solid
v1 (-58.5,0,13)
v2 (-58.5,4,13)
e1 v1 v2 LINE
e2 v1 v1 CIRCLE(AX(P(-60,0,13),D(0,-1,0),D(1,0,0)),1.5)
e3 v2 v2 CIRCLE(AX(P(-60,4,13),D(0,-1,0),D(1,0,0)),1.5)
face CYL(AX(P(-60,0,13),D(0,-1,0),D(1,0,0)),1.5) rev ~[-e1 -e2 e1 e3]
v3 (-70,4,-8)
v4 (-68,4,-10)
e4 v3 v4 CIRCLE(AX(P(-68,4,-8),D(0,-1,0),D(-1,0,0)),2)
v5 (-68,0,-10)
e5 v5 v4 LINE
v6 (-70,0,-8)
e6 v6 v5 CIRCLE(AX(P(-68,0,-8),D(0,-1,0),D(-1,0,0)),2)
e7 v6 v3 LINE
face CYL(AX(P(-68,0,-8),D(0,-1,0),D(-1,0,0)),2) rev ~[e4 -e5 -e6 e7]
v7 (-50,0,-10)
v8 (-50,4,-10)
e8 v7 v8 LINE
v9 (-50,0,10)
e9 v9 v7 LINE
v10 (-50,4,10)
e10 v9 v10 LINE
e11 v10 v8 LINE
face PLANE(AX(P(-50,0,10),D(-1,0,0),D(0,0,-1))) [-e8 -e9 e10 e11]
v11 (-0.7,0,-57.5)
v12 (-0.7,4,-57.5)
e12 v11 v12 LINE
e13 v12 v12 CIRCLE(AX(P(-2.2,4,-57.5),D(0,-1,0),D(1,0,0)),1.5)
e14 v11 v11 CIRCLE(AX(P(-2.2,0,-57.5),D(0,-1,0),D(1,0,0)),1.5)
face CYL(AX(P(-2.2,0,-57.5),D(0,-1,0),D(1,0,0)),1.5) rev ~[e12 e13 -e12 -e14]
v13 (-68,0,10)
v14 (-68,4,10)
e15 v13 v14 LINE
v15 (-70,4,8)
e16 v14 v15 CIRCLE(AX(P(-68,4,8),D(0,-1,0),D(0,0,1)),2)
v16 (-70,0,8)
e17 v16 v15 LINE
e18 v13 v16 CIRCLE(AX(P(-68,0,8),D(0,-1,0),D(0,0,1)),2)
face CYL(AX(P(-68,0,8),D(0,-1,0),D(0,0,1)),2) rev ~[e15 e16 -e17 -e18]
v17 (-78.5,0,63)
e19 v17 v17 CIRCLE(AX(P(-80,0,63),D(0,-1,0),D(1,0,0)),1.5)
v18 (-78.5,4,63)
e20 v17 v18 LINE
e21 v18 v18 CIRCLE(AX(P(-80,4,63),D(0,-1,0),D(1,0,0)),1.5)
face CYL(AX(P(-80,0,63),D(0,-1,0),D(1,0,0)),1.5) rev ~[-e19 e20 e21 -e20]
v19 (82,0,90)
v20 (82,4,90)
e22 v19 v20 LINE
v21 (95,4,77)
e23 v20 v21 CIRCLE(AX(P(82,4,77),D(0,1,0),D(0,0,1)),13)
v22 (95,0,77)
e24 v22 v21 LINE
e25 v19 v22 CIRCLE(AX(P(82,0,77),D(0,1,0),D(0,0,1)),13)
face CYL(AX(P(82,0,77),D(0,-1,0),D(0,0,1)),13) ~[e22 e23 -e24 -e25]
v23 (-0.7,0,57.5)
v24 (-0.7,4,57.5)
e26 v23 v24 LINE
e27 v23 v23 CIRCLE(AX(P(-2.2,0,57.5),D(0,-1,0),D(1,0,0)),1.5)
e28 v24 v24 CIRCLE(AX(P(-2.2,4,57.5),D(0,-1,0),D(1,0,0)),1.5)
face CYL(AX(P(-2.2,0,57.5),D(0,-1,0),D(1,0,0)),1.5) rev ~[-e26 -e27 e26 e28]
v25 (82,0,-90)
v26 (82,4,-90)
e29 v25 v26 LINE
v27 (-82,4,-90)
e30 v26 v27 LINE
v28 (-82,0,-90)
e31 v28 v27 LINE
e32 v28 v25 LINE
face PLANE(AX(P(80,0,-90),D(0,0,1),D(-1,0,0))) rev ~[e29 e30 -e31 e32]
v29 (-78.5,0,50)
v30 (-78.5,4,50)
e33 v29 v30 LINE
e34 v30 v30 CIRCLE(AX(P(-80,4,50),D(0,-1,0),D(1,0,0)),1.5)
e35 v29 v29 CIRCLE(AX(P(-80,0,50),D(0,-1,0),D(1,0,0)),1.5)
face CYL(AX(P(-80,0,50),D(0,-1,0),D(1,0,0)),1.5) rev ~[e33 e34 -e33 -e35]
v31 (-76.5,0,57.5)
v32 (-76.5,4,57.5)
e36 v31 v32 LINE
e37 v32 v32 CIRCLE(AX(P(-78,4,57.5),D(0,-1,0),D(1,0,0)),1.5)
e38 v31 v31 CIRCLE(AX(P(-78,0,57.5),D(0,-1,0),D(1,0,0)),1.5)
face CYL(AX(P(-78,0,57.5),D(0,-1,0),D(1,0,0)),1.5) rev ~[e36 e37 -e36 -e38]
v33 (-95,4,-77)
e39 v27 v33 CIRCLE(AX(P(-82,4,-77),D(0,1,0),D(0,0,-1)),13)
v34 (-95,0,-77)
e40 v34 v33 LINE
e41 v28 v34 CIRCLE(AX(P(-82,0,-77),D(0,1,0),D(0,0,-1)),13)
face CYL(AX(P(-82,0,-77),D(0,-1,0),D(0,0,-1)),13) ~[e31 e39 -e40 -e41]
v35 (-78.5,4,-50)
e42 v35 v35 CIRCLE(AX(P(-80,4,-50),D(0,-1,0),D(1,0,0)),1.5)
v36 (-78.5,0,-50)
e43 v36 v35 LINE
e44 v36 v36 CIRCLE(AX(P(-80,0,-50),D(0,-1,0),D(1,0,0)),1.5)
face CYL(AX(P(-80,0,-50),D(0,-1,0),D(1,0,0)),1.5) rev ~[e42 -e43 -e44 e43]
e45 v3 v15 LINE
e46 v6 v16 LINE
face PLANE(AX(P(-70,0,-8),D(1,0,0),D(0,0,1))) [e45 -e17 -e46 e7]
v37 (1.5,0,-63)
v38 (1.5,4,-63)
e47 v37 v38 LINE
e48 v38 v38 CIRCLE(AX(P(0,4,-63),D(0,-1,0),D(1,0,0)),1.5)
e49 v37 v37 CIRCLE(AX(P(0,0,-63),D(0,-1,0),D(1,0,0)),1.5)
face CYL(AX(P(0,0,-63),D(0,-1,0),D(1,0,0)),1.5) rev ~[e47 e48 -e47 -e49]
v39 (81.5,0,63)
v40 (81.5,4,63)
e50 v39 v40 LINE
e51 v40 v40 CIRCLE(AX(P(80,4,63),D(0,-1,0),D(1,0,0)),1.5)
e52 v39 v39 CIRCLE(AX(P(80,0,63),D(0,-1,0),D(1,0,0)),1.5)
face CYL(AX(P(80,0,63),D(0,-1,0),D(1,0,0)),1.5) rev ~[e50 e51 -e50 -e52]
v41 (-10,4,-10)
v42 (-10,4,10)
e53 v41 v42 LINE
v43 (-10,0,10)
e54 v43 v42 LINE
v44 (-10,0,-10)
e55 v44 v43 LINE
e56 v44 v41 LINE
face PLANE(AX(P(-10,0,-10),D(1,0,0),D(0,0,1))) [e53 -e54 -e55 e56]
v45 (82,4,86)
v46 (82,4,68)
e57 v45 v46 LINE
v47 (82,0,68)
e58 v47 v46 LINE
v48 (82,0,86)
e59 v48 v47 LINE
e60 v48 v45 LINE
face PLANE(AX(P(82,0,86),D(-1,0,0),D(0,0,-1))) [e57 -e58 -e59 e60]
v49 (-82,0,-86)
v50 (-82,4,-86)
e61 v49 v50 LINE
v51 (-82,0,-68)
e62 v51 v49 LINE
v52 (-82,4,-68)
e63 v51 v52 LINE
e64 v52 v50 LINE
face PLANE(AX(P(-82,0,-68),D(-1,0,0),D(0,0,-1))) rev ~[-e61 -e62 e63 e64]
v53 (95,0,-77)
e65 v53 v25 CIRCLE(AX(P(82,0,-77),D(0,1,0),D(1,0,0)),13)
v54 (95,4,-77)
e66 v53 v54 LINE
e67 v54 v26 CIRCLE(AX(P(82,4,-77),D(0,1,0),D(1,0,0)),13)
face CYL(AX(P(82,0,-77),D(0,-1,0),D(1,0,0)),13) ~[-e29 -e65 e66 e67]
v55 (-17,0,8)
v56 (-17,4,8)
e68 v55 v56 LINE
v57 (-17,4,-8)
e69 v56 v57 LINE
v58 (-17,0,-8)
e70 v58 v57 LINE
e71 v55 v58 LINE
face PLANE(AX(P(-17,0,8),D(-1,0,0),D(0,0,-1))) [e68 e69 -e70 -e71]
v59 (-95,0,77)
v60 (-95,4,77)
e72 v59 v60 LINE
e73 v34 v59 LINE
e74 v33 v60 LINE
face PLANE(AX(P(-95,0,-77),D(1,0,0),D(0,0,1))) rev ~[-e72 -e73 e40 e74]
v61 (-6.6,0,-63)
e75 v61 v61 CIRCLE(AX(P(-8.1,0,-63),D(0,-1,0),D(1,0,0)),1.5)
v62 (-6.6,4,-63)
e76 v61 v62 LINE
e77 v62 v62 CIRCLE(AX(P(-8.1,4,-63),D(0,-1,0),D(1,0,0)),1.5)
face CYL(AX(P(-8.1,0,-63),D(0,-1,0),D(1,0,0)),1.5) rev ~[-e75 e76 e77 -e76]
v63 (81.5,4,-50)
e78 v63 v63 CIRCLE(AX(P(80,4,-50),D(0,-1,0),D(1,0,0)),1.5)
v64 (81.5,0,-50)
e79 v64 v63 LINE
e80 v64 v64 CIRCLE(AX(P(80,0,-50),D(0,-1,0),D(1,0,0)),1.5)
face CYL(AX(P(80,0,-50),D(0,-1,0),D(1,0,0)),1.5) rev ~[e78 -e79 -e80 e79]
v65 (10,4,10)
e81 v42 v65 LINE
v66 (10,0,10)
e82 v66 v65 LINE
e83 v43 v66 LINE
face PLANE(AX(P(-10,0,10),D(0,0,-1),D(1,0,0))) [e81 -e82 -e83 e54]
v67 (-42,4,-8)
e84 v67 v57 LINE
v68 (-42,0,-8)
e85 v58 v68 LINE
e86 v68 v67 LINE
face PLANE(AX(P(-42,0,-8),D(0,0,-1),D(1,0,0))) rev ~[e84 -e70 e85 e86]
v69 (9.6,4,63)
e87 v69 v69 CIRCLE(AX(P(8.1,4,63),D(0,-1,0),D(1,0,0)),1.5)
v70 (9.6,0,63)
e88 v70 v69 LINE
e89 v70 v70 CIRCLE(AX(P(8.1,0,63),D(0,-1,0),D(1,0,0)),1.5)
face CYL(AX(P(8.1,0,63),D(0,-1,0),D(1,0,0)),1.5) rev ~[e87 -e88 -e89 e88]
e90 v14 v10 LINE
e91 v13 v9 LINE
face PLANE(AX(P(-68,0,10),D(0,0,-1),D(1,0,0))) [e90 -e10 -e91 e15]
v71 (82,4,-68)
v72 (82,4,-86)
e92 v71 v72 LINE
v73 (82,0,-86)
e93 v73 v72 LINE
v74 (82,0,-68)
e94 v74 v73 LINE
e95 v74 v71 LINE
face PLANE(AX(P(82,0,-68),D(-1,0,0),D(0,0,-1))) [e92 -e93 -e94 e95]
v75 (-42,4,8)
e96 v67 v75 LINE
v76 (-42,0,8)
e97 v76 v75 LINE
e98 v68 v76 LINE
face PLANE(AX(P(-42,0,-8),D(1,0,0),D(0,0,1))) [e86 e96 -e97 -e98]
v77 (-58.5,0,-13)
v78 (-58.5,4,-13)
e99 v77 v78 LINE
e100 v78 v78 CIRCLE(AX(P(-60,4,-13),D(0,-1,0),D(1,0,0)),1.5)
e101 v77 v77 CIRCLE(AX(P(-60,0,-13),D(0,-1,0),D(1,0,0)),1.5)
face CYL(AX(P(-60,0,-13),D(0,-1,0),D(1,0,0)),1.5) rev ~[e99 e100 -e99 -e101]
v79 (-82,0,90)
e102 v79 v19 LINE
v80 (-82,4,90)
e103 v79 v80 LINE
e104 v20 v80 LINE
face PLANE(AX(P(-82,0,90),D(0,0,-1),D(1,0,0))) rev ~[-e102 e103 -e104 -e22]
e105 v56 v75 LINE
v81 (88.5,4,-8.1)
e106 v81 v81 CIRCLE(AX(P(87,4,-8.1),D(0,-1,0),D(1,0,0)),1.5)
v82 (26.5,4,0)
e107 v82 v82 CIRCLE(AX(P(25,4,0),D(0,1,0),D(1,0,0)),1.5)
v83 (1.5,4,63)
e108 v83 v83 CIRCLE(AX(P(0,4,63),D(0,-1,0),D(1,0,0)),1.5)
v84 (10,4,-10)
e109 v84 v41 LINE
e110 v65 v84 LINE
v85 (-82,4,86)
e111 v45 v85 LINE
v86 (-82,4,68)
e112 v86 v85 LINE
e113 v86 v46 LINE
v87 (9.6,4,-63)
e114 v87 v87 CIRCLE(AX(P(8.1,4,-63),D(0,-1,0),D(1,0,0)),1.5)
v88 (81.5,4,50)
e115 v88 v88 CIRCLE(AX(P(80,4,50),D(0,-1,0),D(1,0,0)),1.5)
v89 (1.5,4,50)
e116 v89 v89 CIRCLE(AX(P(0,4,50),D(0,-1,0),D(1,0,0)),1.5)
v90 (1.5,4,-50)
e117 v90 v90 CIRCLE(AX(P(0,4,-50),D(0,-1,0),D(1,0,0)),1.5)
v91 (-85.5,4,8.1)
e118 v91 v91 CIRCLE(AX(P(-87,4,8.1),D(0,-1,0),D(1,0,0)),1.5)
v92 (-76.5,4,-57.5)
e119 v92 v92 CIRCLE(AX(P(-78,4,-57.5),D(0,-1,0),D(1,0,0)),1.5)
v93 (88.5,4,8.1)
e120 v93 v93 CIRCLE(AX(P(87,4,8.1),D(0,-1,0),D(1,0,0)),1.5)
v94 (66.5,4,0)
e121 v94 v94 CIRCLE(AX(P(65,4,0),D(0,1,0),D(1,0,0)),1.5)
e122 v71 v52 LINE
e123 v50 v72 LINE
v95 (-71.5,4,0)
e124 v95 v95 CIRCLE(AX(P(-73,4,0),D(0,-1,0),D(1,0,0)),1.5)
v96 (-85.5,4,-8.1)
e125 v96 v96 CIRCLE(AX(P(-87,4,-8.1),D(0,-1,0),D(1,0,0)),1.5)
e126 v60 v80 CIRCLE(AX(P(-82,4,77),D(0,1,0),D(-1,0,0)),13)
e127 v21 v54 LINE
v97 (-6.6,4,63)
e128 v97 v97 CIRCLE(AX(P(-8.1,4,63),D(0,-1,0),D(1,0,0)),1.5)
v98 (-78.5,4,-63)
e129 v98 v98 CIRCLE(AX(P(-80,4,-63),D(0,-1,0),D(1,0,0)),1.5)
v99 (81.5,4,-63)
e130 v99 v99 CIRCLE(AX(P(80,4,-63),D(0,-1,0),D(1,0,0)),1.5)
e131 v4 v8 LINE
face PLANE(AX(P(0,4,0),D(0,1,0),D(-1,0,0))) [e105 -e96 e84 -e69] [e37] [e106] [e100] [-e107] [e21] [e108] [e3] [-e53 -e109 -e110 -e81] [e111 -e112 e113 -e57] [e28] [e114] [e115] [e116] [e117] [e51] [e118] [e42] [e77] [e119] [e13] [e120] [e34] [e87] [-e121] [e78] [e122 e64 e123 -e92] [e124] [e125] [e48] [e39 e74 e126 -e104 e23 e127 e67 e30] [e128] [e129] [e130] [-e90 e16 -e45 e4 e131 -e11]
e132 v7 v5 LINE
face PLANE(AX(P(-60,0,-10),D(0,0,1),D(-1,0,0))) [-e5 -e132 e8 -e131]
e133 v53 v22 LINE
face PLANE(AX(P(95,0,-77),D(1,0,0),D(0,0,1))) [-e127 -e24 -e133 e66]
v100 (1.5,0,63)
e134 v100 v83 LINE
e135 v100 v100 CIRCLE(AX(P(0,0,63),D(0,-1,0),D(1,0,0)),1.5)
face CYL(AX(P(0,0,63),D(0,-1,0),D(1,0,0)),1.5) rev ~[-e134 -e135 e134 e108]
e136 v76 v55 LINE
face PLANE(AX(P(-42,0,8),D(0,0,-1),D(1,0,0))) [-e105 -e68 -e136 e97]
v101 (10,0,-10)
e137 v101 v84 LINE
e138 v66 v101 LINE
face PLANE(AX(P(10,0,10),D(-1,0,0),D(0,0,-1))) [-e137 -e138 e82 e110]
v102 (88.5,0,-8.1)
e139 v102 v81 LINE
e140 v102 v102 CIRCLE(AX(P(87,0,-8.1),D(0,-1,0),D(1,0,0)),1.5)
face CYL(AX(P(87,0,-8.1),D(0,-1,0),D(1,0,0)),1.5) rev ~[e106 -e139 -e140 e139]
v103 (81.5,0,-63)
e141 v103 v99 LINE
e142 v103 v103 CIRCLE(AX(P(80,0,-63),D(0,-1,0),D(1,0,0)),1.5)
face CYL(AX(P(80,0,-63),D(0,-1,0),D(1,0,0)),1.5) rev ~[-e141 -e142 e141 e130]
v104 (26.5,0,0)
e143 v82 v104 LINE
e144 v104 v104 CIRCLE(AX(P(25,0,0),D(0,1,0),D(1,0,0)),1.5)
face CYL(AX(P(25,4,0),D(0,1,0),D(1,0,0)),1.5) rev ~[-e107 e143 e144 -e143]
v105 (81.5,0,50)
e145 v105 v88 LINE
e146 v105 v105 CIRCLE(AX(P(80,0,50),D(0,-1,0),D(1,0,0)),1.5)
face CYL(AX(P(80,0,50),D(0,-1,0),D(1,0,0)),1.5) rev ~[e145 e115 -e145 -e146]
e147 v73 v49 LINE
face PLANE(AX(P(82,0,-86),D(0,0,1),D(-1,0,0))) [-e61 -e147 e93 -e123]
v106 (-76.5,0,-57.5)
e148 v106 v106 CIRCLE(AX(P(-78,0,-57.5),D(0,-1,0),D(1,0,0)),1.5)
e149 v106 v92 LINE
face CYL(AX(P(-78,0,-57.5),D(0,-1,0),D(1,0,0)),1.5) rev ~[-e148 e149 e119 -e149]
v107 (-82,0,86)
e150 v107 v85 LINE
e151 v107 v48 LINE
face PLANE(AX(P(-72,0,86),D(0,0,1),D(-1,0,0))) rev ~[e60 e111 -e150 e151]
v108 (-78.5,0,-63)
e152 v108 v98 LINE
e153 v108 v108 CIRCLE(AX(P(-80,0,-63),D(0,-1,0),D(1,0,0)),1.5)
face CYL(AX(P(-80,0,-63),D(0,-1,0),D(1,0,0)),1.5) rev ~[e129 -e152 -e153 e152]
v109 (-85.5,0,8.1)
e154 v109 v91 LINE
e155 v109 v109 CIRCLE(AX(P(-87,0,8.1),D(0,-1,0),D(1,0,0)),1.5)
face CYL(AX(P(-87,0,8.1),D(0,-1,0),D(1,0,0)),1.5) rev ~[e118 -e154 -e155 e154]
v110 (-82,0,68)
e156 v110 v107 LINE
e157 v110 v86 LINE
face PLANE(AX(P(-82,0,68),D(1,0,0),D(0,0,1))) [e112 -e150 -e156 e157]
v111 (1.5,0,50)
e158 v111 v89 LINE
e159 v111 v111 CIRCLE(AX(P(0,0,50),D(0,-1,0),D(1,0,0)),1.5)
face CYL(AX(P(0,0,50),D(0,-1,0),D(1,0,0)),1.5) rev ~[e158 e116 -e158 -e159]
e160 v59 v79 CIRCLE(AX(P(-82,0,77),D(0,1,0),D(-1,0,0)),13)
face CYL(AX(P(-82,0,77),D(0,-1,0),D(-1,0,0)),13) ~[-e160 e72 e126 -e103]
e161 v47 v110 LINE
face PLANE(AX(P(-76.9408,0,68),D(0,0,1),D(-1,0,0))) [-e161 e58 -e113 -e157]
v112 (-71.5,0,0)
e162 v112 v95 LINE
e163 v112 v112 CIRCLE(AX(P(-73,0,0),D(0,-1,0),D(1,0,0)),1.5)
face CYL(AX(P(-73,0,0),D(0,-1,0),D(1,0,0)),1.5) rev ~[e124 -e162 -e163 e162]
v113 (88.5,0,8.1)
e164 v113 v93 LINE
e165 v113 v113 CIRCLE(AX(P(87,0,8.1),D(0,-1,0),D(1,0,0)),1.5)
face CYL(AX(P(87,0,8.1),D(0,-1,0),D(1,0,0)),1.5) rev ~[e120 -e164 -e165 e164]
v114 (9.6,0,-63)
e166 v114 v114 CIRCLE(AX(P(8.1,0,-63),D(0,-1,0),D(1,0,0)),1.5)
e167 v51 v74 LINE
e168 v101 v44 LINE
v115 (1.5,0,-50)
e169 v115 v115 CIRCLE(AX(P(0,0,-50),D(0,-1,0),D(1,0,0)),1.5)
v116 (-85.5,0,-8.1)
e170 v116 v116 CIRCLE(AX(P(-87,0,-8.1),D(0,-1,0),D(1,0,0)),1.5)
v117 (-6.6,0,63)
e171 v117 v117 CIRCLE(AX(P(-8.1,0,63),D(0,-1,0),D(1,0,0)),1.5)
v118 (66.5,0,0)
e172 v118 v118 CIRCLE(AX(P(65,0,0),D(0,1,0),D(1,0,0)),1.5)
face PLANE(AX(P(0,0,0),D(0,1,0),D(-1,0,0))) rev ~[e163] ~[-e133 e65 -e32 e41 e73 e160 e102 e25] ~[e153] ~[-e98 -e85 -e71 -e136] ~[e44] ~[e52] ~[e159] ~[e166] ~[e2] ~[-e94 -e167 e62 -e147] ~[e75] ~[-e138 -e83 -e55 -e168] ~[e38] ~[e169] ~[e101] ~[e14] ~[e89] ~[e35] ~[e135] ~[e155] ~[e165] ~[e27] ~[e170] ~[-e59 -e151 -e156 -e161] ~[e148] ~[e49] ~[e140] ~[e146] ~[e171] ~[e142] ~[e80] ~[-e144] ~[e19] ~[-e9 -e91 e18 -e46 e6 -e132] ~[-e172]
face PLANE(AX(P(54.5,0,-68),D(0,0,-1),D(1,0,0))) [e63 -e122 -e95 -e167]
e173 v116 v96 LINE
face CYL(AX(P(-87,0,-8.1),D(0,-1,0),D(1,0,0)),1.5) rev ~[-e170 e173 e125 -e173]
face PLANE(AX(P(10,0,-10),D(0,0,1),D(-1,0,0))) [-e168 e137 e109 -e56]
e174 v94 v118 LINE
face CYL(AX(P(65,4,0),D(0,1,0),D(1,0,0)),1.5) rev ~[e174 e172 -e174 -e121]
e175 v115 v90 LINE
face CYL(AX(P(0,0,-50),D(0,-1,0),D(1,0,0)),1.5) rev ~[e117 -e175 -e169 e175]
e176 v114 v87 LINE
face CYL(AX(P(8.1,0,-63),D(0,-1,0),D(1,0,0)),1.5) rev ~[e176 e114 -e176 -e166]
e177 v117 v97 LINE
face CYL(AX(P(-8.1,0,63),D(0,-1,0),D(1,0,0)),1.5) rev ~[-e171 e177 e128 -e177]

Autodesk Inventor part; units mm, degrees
ref_plane "YZ Plane" through (0, 0, 0) normal (1, 0, 0) x (0, 1, 0)
ref_plane "XZ Plane" through (0, 0, 0) normal (0, 1, 0) x (-1, 0, 0)
ref_plane "XY Plane" through (0, 0, 0) normal (0, 0, 1) x (1, 0, 0)
sketch "Эскиз1" plane through (0, 0, 0) normal (0, 1, 0) x (-1, 0, 0)
  line L0 (150, 150) -> (-150, 150)
  line L1 (-150, 150) -> (-150, -150)
  line L2 (-150, -150) -> (150, -150)
  line L3 (150, -150) -> (150, 150)
  circle A0 centre (0, 0) radius 150
  line L4 (-106, -106) -> (105.4385, -106)
  line L5 (105.4385, -106) -> (105.4385, 106.6899)
  line L6 (105.4385, 106.6899) -> (-106, 106.6899)
  line L7 (-106, 106.6899) -> (-106, -106)
  line L8 (82, 90) -> (-80, 90)
  line L9 (-95, 75) -> (-95, -75)
  line L10 (-80, -90) -> (82, -90)
  line L11 (95, -77) -> (95, 77)
  arc A1 (95, 77) -> (82, 90) centre (82, 77) ccw
  arc A2 (82, -90) -> (95, -77) centre (82, -77) ccw
  line L12 (72, 84.5) -> (12, 84.5)
  line L13 (12, 69.5) -> (72, 69.5)
  line L14 (-80, 90) -> (-82, 90)
  line L15 (-95, 77) -> (-95, 75)
  arc A3 (-82, 90) -> (-95, 77) centre (-82, 77) ccw
  line L16 (-80, -90) -> (-82, -90)
  line L17 (-95, -77) -> (-95, -75)
  arc A4 (-95, -77) -> (-82, -90) centre (-82, -77) ccw
  line L18 (76.9408, 68) -> (82, 68)
  line L19 (82, 68) -> (-82, 68)
  line L20 (-82, 86) -> (82, 86)
  line L21 (82, -68) -> (-82, -68)
  line L22 (-82, -68) -> (-82, -86)
  line L23 (-82, -86) -> (82, -86)
  line L24 (-82, 68) -> (-72, 68)
  line L25 (-72, 86) -> (-82, 86)
  line L26 (-82, 86) -> (-82, 68)
  line L27 (-82, -86) -> (-72, -86)
  line L28 (-72, -68) -> (-82, -68)
  line L29 (-82, -68) -> (-82, -86)
  line L30 (82, -86) -> (72, -86)
  line L31 (72, -68) -> (82, -68)
  line L32 (82, -68) -> (82, -86)
  line L33 (72, 68) -> (82, 68)
  line L34 (82, 68) -> (82, 86)
  line L35 (82, 86) -> (72, 86)
  line L36 (42, 68) -> (54.5, 68)
  line L37 (42, 8) -> (17, 8)
  line L38 (29.5, 8) -> (29.5, 68)
  line L39 (29.5, 68) -> (54.5, 68)
  line L40 (54.5, 68) -> (54.5, 8)
  line L41 (42, -8) -> (17, -8)
  line L42 (29.5, -8) -> (29.5, -68)
  line L43 (29.5, -68) -> (54.5, -68)
  line L44 (54.5, -68) -> (54.5, -8)
  line L45 (-42, 68) -> (-29.5, 68)
  line L46 (-54.5, 8) -> (-54.5, 68)
  line L47 (-54.5, 68) -> (-29.5, 68)
  line L48 (-29.5, 68) -> (-29.5, 8)
  line L49 (-54.5, -8) -> (-54.5, -68)
  line L50 (-54.5, -68) -> (-29.5, -68)
  line L51 (-29.5, -68) -> (-29.5, -8)
  line L52 (75.5, -84.5) -> (8.5, -84.5)
  line L53 (8.5, -84.5) -> (8.5, -69.5)
  line L54 (8.5, -69.5) -> (75.5, -69.5)
  line L55 (75.5, -69.5) -> (75.5, -84.5)
  line L56 (0, -86) -> (0, -44.6693) construction
  line L57 (-75.5, -84.5) -> (-8.5, -84.5)
  line L58 (-8.5, -84.5) -> (-8.5, -69.5)
  line L59 (-8.5, -69.5) -> (-75.5, -69.5)
  line L60 (-75.5, -69.5) -> (-75.5, -84.5)
  line L61 (75.5, 84.5) -> (8.5, 84.5)
  line L62 (8.5, 84.5) -> (8.5, 69.5)
  line L63 (8.5, 69.5) -> (75.5, 69.5)
  line L64 (75.5, 69.5) -> (75.5, 84.5)
  line L65 (-8.5, 84.5) -> (-8.5, 69.5)
  line L66 (-8.5, 69.5) -> (-75.5, 69.5)
  line L67 (-75.5, 69.5) -> (-75.5, 84.5)
  line L68 (-75.5, 84.5) -> (-8.5, 84.5)
  line L69 (54.5, 8) -> (29.5, 8)
  line L70 (17, 8) -> (17, -8)
  line L71 (29.5, -8) -> (54.5, -8)
  line L72 (42, -8) -> (42, 8)
  line L73 (-54.5, 8) -> (-54.5, -8)
  line L74 (-29.5, -8) -> (-29.5, 8)
  line L75 (20, -40) -> (-20, -40)
  line L76 (-20, -40) -> (-20, 40)
  line L77 (-20, 40) -> (20, 40)
  line L78 (20, 40) -> (20, -40)
  line L79 (20, 25) -> (20, 40)
  line L80 (20, 30) -> (20, 40)
  line L81 (-10, -10) -> (10, -10)
  line L82 (10, -10) -> (10, 10)
  line L83 (10, 10) -> (-10, 10)
  line L84 (-10, 10) -> (-10, -10)
  point P0 (-95, -90)
  point P1 (-95, 90)
  point P2 (95, -90)
  point P3 (-12, -77)
  point P4 (12, -77)
  point P5 (12, 77)
  point P6 (72, 77)
  point P7 (42, 8)
  point P8 (42, -8)
  point P9 (-42, -69.5)
  point P10 (42, -8)
  point P11 (-9, 0)
  point P12 (42, 0)
  point P13 (29.5, 0)
  point P14 (-42, -69.5)
  point P15 (42, -69.5)
  dimension "d2" = 300
  dimension "d3" = 300
  dimension "d8" = 190
  dimension "d9" = 180
  dimension "d10" = 13
  dimension "d11" = 13
  dimension "d31" = 13
  dimension "d32" = 13
  dimension "d41" = 15
  dimension "d42" = 24
  dimension "d47" = 25
  dimension "d51" = 25
  dimension "d52" = 16
  dimension "d112" = 67
  dimension "d123" = 40
  dimension "d124" = 80
  dimension "d147" = 20
  dimension "d148" = 20
  dimension "d156" = 84
extrude "Выдавливание1" add sketch "Эскиз1" along normal blind 4 contours A1 L11 A2 L10 L16 A4 L17 L9 L15 A3 L14 L8 | L40 L69 L37 L38 L19 | L38 L37 L78 L77 L76 L75 L41 L42 L21 L51 L74 L48 L19 | L72 L41 L78 L37 | L48 L74 L51 L21 L49 L73 L46 L19 | L71 L44 L21 L42 L41 | L78 L41 L70 L37 | L37 L70 L41 L78 L75 L76 L77 | L84 L83 L82 L81
sketch "Эскиз2" plane through (0, 0, 0) normal (0, -1, 0) x (1, 0, 0)
  line L0 (-82, -68) -> (-82, -86) projected
  line L1 (-95, -77) -> (-95, 77) projected
  line L2 (-95, -68) -> (-95, -56.3368)
  line L3 (-95, -45) -> (-95, -68) construction
  line L4 (-95, -68) -> (-80, -68) construction
  line L5 (-95, -63) -> (-95, -68)
  line L6 (-95, -50) -> (-95, -45)
  circle A0 centre (-80, -63) radius 1.5
  circle A1 centre (-80, -50) radius 1.5
  line L7 (95, 77) -> (95, -77) projected
  line L8 (95, -68) -> (95, -45)
  line L9 (-95, -45) -> (-95, -68)
  line L10 (82, -90) -> (-82, -90) projected
  circle A2 centre (80, -63) radius 1.5
  circle A3 centre (80, -50) radius 1.5
  line L11 (-95, -68) -> (-95, -63)
  line L12 (95, -63) -> (95, -68)
  line L13 (95, -45) -> (95, -50)
  line L14 (-95, -50) -> (-95, -45)
  circle A4 centre (0, -50) radius 1.5
  circle A5 centre (0, -63) radius 1.5
  line L15 (-95, 0) -> (95, 0)
  circle A6 centre (-80, 63) radius 1.5
  circle A7 centre (-80, 50) radius 1.5
  circle A8 centre (80, 63) radius 1.5
  circle A9 centre (80, 50) radius 1.5
  circle A10 centre (0, 50) radius 1.5
  circle A11 centre (0, 63) radius 1.5
  line L16 (-95, -68) -> (95, -68)
  line L17 (95, -68) -> (95, -45)
  line L18 (95, -45) -> (-95, -45)
  line L19 (-95, -45) -> (-95, -68)
  line L20 (-82, 68) -> (-95, 68)
  line L21 (-95, 68) -> (95, 68)
  line L22 (95, 68) -> (95, 45)
  line L23 (95, 45) -> (-95, 45)
  line L24 (-95, 45) -> (-95, 68)
  point P0 (0, 0)
  dimension "d64" = 23
extrude "Выдавливание2" cut sketch "Эскиз2" against normal blind 4 contours A0 | A1 | A2 | A3 | A4 | A5 | A6 | A7 | A8 | A9 | A10 | A11
sketch "Эскиз3" plane through (0, 0, 0) normal (0, -1, 0) x (1, 0, 0)
  line L0 (-95, -77) -> (-95, 77) projected
  line L1 (-95, 10) -> (-95, 0)
  circle A0 centre (-73, 0) radius 1.5
  circle A1 centre (-60, -13) radius 1.5
  circle A2 centre (-60, 13) radius 1.5
  line L2 (-70, -10) -> (-80, -10)
  line L3 (-60, -10) -> (-80, -10)
  line L4 (-50, -10) -> (-68, -10)
  line L5 (-70, -8) -> (-70, 8)
  line L6 (-68, 10) -> (-50, 10)
  line L7 (-50, 10) -> (-50, -10)
  arc A3 (-70, -8) -> (-68, -10) centre (-68, -8) ccw
  arc A4 (-68, 10) -> (-70, 8) centre (-68, 8) ccw
  line L8 (0, 0) -> (-42, 0)
  line L9 (-42, 0) -> (-42, 8)
  line L10 (-42, 8) -> (0, 8)
  line L11 (0, 8) -> (0, 0)
  point P0 (-70, -13)
  point P1 (-78, -10)
  point P2 (-70, 0)
  point P3 (-60, 0)
  dimension "d79" = 3
  dimension "d87" = 2
  dimension "d149" = 42
extrude "Выдавливание3" cut sketch "Эскиз3" against normal blind 4 contours A0 | A1 | A2
extrude "Выдавливание4" cut sketch "Эскиз3" against normal blind 4 contours L3 A3 L5 A4 L6 L7 L4
sketch "Эскиз4" plane through (0, 0, 0) normal (0, -1, 0) x (1, 0, 0)
  circle A0 centre (-80, 63) radius 1.5 projected
  circle A1 centre (-78, 57.5) radius 1.5
  circle A2 centre (0, 63) radius 1.5 projected
  circle A3 centre (-2.2, 57.5) radius 1.5
  line L0 (-47.745, 0) -> (17.0058, 0) construction
  circle A4 centre (-78, -57.5) radius 1.5
  circle A5 centre (-2.2, -57.5) radius 1.5
  point P0 (0, 0)
  dimension "d92" = 3
  dimension "d95" = 3
extrude "Выдавливание5" cut sketch "Эскиз4" against normal blind 4 contours A1 | A3 | A4 | A5
sketch "Эскиз5" plane through (0, 0, 0) normal (0, -1, 0) x (1, 0, 0)
  line L0 (82, -68) -> (-82, -68) projected
  line L1 (-82, -86) -> (82, -86) projected
  line L2 (-90.0897, 0) -> (-46.8311, 0) construction
  line L3 (0, -13.4429) -> (0, 16.6684) construction
  circle A0 centre (-87, -8.1) radius 1.5
  line L4 (-82, 68) -> (82, 68) construction
  line L5 (0, 68) -> (-4.5, 68) construction
  line L6 (-4.5, 63) -> (0, 63) construction
  line L7 (0, 63) -> (0, 68) construction
  line L8 (-17.2785, 0) -> (16.6341, 0) construction
  circle A1 centre (-8.1, 63) radius 1.5
  circle A2 centre (-87, 8.1) radius 1.5
  circle A3 centre (87, -8.1) radius 1.5
  circle A4 centre (87, 8.1) radius 1.5
  circle A5 centre (8.1, 63) radius 1.5
  circle A6 centre (-8.1, -63) radius 1.5
  circle A7 centre (8.1, -63) radius 1.5
  point P0 (0, 0)
  point P1 (-87, 0)
  dimension "d115" = 3
extrude "Выдавливание6" cut sketch "Эскиз5" against normal blind 4 contours A0
extrude "Выдавливание7" cut sketch "Эскиз5" against normal blind 4 contours A1
extrude "Выдавливание8" cut sketch "Эскиз1" along normal blind 4 contours L72 L41 L78 L37 | L78 L41 L70 L37
extrude "Выдавливание9" cut sketch "Эскиз1" along normal blind 4 contours L84 L83 L82 L81
sketch "Эскиз6" plane through (0, 4, 0) normal (0, 1, 0) x (1, 0, 0)
  line L0 (15, -37.5) -> (75, -37.5)
  line L1 (75, -37.5) -> (75, 37.5)
  line L2 (75, 37.5) -> (15, 37.5)
  line L3 (15, 37.5) -> (15, -37.5)
  line L4 (15, -37.5) -> (25, -37.5)
  line L5 (45, -37.5) -> (45, 37.5) construction
  circle A0 centre (25, 0) radius 1.5
  circle A1 centre (65, 0) radius 1.5
  point P0 (0, 0)
  dimension "d139" = 60
  dimension "d140" = 75
  dimension "d141" = 10
  dimension "d142" = 3
extrude "Выдавливание10" cut sketch "Эскиз6" against normal blind 4 contours A0 | A1
extrude "Выдавливание11" cut sketch "Эскиз5" against normal blind 10 contours A2
extrude "Выдавливание12" cut sketch "Эскиз5" against normal blind 10 contours A3 | A4 | A5 | A6 | A7
properties part number "основа"
